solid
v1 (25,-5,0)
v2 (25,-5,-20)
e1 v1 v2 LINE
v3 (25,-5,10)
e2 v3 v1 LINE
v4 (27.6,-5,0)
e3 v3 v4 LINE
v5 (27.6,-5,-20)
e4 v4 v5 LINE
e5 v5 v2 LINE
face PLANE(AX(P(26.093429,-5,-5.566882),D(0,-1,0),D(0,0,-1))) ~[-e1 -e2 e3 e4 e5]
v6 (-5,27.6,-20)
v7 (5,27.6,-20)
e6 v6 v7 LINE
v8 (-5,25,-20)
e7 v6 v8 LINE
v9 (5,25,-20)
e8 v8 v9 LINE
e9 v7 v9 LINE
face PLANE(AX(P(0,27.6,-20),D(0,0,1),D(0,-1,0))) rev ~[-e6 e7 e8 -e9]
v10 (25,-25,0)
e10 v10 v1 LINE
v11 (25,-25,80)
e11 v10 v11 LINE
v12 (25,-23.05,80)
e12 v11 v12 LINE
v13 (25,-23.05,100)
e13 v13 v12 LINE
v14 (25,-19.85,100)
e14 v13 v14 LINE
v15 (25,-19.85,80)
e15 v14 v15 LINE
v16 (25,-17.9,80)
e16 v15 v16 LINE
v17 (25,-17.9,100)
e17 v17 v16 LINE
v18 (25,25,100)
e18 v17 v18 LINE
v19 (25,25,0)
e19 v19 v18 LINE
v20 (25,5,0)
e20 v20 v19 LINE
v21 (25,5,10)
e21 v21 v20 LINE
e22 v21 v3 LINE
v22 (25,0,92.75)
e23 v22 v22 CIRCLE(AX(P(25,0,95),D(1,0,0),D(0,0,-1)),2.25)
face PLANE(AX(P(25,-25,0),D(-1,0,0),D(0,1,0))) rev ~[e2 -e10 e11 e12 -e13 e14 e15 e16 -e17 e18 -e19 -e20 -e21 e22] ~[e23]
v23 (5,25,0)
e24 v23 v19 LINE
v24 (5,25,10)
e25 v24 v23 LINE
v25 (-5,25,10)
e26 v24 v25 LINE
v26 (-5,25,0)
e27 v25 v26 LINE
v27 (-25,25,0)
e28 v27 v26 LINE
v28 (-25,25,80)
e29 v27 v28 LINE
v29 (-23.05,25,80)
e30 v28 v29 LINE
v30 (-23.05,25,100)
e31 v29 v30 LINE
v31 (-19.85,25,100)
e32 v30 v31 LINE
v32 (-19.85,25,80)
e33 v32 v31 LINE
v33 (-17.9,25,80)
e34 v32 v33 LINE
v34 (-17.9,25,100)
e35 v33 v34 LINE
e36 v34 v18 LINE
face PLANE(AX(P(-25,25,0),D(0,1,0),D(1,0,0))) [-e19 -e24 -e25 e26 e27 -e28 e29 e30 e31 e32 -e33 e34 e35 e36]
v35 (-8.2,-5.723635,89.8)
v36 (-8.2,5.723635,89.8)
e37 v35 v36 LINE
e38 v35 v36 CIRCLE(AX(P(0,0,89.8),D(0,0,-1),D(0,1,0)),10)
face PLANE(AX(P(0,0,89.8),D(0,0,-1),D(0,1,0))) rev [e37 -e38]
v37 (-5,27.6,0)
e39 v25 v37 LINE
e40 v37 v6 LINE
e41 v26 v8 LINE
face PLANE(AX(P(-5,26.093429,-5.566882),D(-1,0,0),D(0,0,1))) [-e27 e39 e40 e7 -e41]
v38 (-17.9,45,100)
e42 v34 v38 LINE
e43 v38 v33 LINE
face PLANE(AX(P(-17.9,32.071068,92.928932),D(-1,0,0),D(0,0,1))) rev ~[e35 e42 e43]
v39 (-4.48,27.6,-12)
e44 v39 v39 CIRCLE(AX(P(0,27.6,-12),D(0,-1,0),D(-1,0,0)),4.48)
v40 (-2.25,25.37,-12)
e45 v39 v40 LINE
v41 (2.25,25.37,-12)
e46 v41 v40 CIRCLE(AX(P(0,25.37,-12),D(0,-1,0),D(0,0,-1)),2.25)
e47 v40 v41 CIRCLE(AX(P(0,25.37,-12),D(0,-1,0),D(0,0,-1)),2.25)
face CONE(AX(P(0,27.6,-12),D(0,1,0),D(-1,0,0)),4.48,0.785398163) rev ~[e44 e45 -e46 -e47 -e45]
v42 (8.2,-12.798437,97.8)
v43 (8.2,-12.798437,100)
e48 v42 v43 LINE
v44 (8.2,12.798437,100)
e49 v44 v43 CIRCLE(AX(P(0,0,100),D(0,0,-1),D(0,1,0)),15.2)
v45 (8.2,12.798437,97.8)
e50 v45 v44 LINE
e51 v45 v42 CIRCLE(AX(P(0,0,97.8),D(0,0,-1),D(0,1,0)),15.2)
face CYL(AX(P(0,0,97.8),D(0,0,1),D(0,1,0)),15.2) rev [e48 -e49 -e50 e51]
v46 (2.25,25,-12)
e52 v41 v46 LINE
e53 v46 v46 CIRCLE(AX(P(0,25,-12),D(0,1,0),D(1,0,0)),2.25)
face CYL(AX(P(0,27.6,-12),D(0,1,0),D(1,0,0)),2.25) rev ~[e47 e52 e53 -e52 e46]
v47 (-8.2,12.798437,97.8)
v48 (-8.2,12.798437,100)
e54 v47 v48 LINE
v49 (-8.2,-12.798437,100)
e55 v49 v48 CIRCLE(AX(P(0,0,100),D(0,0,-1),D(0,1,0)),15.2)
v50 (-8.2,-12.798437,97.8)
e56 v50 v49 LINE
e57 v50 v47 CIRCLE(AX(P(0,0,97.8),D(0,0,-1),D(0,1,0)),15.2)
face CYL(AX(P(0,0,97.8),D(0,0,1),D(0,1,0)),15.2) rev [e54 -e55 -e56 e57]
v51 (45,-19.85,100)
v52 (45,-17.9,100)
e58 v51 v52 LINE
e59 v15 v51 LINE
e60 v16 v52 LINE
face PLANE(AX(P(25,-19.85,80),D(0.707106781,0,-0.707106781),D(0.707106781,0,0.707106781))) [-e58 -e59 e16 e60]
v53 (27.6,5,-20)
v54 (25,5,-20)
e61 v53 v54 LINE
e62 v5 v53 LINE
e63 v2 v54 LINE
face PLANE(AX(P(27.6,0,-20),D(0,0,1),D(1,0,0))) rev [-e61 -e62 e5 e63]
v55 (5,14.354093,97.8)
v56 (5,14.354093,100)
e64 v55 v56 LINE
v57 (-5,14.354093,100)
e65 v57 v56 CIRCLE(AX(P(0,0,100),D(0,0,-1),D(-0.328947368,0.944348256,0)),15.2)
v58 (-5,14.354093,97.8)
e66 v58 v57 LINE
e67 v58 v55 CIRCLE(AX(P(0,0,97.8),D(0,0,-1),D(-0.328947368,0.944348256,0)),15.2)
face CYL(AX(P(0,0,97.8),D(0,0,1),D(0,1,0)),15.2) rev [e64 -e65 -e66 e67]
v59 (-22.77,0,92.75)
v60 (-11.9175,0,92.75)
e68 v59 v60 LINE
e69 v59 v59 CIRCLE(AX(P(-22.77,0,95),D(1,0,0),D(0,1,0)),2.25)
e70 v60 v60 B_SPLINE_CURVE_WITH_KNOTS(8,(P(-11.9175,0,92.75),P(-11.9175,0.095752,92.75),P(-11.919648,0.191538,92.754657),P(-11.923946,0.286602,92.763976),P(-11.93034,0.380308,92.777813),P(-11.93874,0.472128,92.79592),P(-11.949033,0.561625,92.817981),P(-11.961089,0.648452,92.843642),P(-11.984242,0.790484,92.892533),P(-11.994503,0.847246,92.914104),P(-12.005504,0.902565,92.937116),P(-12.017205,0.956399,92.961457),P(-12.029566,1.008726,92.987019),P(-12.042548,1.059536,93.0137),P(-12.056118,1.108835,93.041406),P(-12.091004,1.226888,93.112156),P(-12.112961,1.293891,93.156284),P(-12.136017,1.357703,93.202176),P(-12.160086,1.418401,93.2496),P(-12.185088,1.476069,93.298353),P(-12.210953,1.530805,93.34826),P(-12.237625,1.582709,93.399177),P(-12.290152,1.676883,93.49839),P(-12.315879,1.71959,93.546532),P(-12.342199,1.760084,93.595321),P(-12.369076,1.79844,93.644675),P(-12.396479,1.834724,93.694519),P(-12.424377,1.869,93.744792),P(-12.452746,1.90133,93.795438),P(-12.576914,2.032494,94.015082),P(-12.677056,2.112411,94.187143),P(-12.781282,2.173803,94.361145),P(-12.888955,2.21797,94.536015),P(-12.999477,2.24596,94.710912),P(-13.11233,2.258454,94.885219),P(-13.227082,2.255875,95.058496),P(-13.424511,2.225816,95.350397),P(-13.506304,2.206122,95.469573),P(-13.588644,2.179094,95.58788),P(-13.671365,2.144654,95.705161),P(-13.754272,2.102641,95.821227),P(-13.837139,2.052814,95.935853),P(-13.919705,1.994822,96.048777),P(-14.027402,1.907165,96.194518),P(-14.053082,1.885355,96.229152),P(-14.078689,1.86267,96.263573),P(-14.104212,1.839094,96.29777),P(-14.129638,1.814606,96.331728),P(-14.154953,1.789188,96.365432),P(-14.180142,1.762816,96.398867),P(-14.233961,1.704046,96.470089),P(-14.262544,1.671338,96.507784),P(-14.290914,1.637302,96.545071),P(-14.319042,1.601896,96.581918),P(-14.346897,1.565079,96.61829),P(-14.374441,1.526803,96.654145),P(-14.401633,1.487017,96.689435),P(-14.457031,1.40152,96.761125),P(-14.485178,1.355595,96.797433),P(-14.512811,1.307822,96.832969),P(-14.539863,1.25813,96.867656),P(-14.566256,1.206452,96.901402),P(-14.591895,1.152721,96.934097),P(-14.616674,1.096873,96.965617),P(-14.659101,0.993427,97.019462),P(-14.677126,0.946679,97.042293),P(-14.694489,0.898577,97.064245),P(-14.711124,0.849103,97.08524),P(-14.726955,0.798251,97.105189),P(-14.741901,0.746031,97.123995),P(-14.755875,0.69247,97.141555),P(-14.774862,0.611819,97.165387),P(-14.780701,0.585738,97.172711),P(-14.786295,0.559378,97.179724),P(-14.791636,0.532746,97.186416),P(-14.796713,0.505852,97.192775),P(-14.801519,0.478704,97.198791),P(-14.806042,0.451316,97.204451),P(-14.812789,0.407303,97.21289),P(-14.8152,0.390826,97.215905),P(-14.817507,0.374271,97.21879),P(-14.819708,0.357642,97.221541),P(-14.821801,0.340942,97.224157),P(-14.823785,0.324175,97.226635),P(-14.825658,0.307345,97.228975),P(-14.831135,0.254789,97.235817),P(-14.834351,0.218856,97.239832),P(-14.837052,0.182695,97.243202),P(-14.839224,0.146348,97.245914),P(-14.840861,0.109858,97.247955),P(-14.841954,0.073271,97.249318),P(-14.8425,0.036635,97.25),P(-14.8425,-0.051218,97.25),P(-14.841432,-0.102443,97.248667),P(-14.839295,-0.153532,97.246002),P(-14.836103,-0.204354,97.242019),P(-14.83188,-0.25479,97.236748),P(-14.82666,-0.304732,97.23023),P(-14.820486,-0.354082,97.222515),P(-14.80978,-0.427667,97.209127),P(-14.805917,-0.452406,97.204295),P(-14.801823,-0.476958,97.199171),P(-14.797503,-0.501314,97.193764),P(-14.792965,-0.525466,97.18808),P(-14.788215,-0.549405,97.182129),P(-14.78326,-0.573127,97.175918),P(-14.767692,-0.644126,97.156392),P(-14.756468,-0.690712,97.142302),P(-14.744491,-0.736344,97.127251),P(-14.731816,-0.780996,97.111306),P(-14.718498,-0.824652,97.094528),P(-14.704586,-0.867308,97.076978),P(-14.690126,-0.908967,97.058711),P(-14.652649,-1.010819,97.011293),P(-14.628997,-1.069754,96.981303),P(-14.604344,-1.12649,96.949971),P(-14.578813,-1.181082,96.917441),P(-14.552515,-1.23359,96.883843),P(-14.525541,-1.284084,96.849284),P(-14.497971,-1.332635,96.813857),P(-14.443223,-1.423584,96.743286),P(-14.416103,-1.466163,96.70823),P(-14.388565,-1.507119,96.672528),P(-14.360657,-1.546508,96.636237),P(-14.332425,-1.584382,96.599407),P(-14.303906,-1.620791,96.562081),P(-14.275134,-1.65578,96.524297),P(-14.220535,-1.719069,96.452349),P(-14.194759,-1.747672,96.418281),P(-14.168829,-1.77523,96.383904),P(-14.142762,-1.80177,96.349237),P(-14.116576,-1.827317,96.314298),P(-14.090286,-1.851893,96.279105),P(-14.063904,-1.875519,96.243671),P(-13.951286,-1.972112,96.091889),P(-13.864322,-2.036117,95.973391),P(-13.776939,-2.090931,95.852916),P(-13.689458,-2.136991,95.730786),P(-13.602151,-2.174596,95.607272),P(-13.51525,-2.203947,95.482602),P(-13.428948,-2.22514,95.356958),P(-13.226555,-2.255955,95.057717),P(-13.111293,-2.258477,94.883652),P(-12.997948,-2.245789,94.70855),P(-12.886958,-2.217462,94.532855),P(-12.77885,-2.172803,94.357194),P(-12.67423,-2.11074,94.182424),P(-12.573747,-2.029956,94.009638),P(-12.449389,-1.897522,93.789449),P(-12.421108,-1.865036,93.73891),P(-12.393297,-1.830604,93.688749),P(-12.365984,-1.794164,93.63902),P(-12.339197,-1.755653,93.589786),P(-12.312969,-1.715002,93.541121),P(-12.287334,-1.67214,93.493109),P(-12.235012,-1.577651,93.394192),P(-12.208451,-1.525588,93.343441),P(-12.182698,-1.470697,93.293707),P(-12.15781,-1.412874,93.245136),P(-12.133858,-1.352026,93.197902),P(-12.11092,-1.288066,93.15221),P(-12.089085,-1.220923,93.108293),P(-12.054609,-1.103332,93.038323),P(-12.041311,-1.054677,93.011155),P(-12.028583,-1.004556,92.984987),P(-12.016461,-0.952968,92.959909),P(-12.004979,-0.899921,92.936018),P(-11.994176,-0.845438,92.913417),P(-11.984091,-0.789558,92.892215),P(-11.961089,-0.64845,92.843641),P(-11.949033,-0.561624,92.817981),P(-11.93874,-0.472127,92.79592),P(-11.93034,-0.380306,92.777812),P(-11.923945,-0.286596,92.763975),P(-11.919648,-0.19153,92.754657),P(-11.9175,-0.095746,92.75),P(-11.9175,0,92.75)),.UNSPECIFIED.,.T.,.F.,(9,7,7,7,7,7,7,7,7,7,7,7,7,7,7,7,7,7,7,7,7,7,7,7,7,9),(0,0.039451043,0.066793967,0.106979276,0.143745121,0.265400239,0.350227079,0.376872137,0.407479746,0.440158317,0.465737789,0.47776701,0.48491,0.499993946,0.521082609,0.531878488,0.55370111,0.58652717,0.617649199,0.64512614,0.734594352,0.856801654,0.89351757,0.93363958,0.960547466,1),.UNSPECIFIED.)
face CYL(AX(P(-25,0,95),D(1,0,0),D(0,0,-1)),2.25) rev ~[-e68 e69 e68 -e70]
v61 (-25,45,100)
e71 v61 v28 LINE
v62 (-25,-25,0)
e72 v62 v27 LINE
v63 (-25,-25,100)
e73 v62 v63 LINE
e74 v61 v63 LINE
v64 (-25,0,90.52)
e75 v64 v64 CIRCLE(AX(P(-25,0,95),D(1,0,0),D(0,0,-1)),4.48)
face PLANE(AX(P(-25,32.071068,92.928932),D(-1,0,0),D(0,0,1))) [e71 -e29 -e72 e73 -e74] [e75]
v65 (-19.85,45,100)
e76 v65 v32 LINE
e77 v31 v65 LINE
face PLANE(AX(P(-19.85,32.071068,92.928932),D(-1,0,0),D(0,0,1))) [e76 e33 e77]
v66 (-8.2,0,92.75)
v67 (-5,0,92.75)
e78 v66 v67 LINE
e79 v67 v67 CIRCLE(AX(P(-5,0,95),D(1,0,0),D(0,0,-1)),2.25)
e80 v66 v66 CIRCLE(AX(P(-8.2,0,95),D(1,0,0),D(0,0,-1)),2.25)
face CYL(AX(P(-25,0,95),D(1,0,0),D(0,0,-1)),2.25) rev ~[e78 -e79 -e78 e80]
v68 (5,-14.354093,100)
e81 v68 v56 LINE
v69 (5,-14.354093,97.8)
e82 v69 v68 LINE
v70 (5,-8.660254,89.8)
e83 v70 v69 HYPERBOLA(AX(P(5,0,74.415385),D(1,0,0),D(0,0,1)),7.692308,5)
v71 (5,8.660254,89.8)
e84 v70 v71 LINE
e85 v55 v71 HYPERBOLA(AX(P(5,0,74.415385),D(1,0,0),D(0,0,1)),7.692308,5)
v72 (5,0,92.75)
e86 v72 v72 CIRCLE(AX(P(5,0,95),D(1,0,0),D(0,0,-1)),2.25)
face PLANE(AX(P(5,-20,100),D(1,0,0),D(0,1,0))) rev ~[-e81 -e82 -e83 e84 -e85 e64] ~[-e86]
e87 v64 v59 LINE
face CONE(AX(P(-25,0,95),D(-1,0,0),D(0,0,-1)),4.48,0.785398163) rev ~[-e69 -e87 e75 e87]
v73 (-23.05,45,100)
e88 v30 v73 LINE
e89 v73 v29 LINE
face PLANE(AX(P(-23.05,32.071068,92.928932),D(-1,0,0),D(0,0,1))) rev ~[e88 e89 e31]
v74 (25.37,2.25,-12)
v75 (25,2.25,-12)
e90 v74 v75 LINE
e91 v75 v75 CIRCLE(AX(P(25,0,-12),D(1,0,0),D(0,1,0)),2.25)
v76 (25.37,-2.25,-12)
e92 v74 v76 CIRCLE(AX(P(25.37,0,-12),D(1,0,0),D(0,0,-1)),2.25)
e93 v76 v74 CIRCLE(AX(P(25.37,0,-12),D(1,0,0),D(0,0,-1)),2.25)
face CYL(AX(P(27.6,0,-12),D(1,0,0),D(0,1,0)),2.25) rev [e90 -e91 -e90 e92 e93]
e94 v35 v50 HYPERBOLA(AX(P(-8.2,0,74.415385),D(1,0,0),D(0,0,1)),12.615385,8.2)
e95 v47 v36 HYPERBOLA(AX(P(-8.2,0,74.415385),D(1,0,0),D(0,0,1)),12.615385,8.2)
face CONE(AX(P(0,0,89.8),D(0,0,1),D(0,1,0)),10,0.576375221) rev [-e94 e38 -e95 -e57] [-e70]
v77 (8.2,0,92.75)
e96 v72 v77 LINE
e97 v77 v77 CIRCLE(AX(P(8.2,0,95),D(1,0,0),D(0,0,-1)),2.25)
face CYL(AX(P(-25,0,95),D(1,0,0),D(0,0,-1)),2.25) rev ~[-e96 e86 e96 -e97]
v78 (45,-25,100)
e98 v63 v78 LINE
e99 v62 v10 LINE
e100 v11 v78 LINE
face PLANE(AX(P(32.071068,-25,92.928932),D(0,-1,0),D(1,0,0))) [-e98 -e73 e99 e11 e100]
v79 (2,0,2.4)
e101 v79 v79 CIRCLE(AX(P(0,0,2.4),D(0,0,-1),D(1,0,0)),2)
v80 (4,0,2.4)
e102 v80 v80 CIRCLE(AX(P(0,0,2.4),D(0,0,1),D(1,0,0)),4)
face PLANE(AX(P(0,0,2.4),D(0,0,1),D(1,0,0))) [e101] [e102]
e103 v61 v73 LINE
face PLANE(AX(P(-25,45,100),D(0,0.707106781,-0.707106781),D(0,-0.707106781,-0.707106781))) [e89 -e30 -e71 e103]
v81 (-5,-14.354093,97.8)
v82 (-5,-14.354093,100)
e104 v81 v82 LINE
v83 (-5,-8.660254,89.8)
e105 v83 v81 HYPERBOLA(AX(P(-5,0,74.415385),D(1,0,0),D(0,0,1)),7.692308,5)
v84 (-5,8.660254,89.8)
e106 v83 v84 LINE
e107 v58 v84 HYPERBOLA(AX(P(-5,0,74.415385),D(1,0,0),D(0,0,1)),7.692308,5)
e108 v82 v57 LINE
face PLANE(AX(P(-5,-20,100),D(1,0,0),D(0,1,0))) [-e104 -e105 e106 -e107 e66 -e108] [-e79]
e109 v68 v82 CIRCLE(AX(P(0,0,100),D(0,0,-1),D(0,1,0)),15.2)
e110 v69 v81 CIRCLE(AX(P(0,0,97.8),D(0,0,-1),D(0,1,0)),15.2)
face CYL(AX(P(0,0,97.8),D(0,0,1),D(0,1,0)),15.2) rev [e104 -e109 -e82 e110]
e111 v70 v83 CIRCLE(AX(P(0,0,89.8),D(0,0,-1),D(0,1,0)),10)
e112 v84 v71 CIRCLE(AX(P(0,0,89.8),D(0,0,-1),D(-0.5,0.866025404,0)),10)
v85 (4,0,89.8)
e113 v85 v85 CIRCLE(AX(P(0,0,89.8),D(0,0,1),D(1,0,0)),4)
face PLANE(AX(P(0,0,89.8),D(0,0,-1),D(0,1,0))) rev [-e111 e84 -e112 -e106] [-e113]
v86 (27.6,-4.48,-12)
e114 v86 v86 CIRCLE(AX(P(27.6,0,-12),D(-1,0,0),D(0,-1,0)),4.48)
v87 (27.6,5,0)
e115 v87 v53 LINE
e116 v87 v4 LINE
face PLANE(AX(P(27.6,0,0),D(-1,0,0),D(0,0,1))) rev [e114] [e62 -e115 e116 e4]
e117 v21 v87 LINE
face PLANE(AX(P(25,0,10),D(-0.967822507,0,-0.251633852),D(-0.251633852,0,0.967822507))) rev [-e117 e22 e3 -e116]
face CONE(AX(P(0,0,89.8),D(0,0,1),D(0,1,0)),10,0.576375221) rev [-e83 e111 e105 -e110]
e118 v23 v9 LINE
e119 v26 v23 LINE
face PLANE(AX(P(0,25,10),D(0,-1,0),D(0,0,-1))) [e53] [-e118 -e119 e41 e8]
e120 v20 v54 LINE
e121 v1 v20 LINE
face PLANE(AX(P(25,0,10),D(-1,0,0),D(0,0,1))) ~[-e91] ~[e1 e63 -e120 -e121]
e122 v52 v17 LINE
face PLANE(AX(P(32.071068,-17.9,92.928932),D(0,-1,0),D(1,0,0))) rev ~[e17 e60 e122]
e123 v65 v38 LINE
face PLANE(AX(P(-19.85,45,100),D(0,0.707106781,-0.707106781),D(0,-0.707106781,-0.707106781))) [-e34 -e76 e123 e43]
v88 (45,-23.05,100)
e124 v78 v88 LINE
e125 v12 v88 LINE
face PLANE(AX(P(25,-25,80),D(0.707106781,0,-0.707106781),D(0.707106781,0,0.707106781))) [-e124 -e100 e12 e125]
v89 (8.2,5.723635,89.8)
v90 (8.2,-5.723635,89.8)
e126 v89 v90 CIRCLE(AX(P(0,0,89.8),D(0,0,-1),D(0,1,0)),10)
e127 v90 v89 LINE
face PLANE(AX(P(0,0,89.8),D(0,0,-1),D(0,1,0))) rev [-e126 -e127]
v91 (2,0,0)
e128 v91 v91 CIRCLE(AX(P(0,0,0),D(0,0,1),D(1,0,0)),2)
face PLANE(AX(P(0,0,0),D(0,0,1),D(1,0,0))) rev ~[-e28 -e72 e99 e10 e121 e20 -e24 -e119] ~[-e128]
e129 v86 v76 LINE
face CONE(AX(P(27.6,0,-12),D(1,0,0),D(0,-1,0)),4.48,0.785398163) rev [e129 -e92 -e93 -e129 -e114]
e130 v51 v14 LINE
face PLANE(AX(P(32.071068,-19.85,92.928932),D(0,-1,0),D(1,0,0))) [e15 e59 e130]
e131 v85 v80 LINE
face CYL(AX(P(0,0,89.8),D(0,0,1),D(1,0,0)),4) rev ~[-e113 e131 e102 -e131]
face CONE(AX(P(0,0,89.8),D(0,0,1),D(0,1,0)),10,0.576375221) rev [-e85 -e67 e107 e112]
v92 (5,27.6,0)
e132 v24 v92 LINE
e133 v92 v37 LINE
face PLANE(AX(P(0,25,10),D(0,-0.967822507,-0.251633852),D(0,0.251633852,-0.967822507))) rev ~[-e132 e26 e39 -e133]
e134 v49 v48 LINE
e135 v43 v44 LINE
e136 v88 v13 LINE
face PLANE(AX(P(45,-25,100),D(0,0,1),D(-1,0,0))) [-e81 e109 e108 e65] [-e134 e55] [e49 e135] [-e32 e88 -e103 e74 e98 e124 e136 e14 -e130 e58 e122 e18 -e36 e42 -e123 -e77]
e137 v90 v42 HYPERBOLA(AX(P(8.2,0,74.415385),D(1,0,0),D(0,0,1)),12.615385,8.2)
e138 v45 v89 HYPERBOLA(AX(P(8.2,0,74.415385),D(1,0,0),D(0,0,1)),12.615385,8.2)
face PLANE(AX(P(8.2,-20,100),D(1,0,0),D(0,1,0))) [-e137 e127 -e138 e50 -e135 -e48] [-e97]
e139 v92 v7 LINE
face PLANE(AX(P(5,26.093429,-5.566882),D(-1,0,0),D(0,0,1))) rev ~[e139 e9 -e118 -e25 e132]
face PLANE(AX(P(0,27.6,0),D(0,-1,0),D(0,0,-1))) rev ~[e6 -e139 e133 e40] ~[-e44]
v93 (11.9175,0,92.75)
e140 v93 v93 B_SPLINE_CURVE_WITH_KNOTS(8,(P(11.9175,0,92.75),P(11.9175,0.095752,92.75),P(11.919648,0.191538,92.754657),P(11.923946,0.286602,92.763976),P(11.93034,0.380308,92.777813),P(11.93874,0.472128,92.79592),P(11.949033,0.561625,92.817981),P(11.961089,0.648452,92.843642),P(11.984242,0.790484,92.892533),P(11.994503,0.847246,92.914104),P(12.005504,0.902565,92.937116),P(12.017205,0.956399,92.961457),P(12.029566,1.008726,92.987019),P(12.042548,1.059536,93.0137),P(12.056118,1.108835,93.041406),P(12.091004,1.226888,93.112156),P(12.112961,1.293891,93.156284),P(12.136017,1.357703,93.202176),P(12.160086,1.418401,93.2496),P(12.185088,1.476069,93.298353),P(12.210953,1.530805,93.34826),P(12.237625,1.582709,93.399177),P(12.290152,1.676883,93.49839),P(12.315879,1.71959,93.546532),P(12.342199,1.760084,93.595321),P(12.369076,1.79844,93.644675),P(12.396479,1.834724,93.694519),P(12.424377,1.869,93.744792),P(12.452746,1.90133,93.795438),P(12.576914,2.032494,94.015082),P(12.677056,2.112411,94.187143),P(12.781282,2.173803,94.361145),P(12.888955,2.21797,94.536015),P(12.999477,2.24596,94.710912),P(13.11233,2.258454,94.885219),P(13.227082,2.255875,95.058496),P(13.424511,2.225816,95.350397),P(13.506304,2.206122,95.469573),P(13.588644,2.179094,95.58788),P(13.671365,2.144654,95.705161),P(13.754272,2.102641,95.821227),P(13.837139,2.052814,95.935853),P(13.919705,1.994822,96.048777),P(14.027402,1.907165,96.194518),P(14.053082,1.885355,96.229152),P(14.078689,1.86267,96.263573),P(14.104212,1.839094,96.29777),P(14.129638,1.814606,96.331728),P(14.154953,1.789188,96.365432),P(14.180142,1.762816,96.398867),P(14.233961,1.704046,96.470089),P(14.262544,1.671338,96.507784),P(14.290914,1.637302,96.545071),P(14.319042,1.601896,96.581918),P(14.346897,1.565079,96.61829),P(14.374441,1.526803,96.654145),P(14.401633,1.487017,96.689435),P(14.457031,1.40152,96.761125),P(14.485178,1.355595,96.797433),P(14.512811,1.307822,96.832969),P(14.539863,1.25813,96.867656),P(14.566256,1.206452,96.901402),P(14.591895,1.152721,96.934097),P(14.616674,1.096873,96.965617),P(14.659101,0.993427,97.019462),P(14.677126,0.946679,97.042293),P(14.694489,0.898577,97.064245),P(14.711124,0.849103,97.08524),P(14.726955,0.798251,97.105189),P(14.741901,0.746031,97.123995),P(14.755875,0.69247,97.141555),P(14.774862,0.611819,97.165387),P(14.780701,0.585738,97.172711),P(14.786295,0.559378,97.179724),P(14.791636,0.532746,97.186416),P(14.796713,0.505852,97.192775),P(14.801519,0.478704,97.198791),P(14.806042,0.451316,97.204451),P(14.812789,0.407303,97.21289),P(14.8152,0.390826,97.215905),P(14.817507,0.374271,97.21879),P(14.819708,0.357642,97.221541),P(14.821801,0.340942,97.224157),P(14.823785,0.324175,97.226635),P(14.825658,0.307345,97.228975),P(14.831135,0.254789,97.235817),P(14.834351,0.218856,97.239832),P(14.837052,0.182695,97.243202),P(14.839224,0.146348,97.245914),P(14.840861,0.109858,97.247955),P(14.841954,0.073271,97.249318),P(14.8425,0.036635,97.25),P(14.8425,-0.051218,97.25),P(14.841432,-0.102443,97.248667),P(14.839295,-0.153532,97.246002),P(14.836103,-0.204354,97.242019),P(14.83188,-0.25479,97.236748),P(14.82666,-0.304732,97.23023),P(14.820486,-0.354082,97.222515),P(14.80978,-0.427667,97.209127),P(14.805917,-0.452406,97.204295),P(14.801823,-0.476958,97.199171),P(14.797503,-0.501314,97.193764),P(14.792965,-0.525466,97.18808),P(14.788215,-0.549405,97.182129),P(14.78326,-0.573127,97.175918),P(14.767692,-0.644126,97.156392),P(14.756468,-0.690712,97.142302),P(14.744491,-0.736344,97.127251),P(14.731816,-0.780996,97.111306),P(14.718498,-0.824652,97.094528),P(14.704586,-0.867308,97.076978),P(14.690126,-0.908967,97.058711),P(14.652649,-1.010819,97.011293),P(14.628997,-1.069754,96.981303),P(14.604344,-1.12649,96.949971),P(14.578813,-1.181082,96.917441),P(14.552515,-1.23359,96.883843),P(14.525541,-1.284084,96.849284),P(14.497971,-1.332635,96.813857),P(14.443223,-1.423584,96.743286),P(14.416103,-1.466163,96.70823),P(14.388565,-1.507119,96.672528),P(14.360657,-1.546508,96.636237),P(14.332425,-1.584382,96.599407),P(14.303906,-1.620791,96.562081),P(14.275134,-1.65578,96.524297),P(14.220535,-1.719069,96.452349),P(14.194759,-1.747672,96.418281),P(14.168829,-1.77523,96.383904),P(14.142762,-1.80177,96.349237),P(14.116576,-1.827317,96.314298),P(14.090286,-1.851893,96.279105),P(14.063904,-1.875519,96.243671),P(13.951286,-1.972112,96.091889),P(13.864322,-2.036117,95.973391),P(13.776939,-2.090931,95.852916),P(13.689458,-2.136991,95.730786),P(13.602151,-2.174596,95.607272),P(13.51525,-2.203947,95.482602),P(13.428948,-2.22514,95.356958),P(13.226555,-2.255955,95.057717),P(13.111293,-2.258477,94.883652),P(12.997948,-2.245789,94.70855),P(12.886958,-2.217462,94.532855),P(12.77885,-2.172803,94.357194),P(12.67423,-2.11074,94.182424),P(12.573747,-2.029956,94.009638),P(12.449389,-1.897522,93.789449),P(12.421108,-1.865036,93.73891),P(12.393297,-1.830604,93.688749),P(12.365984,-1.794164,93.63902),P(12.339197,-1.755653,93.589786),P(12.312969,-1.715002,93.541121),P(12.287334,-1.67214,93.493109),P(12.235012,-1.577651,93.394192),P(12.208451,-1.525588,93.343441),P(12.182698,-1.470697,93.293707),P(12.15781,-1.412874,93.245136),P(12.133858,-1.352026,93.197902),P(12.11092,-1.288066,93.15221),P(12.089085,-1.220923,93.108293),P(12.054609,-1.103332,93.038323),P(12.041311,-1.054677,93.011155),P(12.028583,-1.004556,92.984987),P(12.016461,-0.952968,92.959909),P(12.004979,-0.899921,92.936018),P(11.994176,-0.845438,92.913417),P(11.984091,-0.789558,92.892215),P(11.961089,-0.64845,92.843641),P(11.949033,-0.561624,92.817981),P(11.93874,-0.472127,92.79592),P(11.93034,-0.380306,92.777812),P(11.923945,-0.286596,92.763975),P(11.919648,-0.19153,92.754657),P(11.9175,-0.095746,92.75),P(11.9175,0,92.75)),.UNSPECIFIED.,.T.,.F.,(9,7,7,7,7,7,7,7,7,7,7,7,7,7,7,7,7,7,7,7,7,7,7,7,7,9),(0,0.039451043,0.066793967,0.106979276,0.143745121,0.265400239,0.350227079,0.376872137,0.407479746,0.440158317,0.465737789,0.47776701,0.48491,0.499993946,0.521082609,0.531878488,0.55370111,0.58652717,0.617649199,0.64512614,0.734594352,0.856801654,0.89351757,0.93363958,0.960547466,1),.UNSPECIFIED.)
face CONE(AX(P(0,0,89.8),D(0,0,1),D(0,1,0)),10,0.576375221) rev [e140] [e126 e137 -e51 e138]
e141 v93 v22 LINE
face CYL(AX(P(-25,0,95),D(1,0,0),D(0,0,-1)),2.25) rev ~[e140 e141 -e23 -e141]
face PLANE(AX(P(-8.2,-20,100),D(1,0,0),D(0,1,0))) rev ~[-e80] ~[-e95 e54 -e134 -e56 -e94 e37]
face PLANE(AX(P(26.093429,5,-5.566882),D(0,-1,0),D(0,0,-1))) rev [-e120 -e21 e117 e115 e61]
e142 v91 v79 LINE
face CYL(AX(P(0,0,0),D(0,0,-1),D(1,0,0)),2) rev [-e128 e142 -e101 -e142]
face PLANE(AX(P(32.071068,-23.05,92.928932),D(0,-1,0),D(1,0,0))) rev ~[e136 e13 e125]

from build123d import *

# Parameters (mm, degrees)
CROQUIS1_W                                           = 50
CROQUIS1_H                                           = 50
CROQUIS1_R                                           = 2
SALIENTE_EXTRUIR2_DEPTH                              = 100
CROQUIS4_W                                           = 3.2
CROQUIS4_H                                           = 40
SALIENTE_EXTRUIR5_DEPTH                              = 10.2
CROQUIS8_R                                           = 4
CORTAR_EXTRUIR3_DEPTH                                = 87.4
CORTAR_EXTRUIR2_START                                = -50
CROQUIS7_R                                           = 2
CORTAR_EXTRUIR2_DEPTH                                = 50
REFRENTADO_PARA_TORNILLO_TAP_N_CON_CABEZ_D           = 4.5
REFRENTADO_PARA_TORNILLO_TAP_N_CON_CABEZ_CSINK_D     = 8.96
REFRENTADO_PARA_TORNILLO_TAP_N_CON_CABEZ_CSINK_ANGLE = 90
SALIENTE_EXTRUIR6_DEPTH                              = 1.95
SALIENTE_EXTRUIR7_START                              = -5.15
SALIENTE_EXTRUIR7_DEPTH                              = 1.95
SALIENTE_EXTRUIR9_DEPTH                              = 1.95
SALIENTE_EXTRUIR10_START                             = -5.15
SALIENTE_EXTRUIR10_DEPTH                             = 1.95
SALIENTE_EXTRUIR11_START                             = -25
SALIENTE_EXTRUIR11_DEPTH                             = 5
CROQUIS17_R                                          = 2.25
CORTAR_EXTRUIR4_DEPTH                                = 2.6
REFRENTADO_PARA_TORNILLO_TAP_N_CON_C_2_D             = 4.5
REFRENTADO_PARA_TORNILLO_TAP_N_CON_C_2_CSINK_D       = 8.96
REFRENTADO_PARA_TORNILLO_TAP_N_CON_C_2_CSINK_ANGLE   = 90


with BuildPart() as part:
    # Croquis1 → Saliente-Extruir2 (new body)
    with BuildSketch(Plane.XY):
        Rectangle(CROQUIS1_W, CROQUIS1_H)
        Circle(CROQUIS1_R, mode=Mode.SUBTRACT)
    extrude(amount=SALIENTE_EXTRUIR2_DEPTH)

    # Croquis2 → Cortar-Revolución1 (revolve, cut)
    with BuildSketch(Plane(origin=(0, 0, 0), x_dir=(0, 0, -1), z_dir=(1, 0, 0))):
        Polygon((-100, 15.2), (-100, 0), (-89.8, 0), (-89.8, 10), (-97.8, 15.2), align=None)
    revolve(axis=Axis((0, 0, 100), (0, 0, -1)), mode=Mode.SUBTRACT)

    # Croquis4 → Saliente-Extruir5 (add)
    with BuildSketch(Plane.XY.offset(100)):
        with Locations((-6.6, 0)):
            Rectangle(CROQUIS4_W, CROQUIS4_H)
        with Locations((6.6, 0)):
            Rectangle(CROQUIS4_W, CROQUIS4_H)
    extrude(amount=-SALIENTE_EXTRUIR5_DEPTH)

    # Croquis8 → Cortar-Extruir3 (cut)
    with BuildSketch(Plane.XY.offset(89.8)):
        Circle(CROQUIS8_R)
    extrude(amount=-CORTAR_EXTRUIR3_DEPTH, mode=Mode.SUBTRACT)

    # Croquis7 → Cortar-Extruir2 (cut)
    with BuildSketch(Plane.ZY.offset(25).offset(CORTAR_EXTRUIR2_START)):
        with Locations((95, 0)):
            Circle(CROQUIS7_R)
    extrude(amount=CORTAR_EXTRUIR2_DEPTH, mode=Mode.SUBTRACT)

    # Refrentado para tornillo tap_n con cabez (through all)
    with Locations(Plane.ZY.offset(25)):
        with Locations((95, 0)):
            CounterSinkHole(REFRENTADO_PARA_TORNILLO_TAP_N_CON_CABEZ_D / 2, REFRENTADO_PARA_TORNILLO_TAP_N_CON_CABEZ_CSINK_D / 2, counter_sink_angle=REFRENTADO_PARA_TORNILLO_TAP_N_CON_CABEZ_CSINK_ANGLE)

    # Croquis12 → Saliente-Extruir6 (add)
    with BuildSketch(Plane.ZY.offset(25)):
        Polygon((100, 45), (80, 25), (100, 25), align=None)
    extrude(amount=-SALIENTE_EXTRUIR6_DEPTH)

    # Croquis12<2> → Saliente-Extruir7 (add)
    with BuildSketch(Plane.ZY.offset(25).offset(SALIENTE_EXTRUIR7_START)):
        Polygon((100, 45), (80, 25), (100, 25), align=None)
    extrude(amount=-SALIENTE_EXTRUIR7_DEPTH)

    # Croquis15 → Saliente-Extruir9 (add)
    with BuildSketch(Plane.XZ.offset(25)):
        Polygon((25, 100), (25, 80), (45, 100), align=None)
    extrude(amount=-SALIENTE_EXTRUIR9_DEPTH)

    # Croquis15<2> → Saliente-Extruir10 (add)
    with BuildSketch(Plane.XZ.offset(25).offset(SALIENTE_EXTRUIR10_START)):
        Polygon((25, 100), (25, 80), (45, 100), align=None)
    extrude(amount=-SALIENTE_EXTRUIR10_DEPTH)

    # Croquis16 → Saliente-Extruir11 (add, symmetric)
    with BuildSketch(Plane(origin=(25, 0, 0), x_dir=(0, 0, -1), z_dir=(1, 0, 0)).offset(SALIENTE_EXTRUIR11_START)):
        Polygon((0, 25), (-10, 25), (0, 27.6), (20, 27.6), (20, 25), align=None)
    saliente_extruir11 = extrude(amount=SALIENTE_EXTRUIR11_DEPTH, both=True)

    # Croquis17 → Cortar-Extruir4 (cut)
    with BuildSketch(Plane(origin=(0, 27.6, 0), x_dir=(1, 0, 0), z_dir=(0, 1, 0))):
        with Locations((0, 12)):
            Circle(CROQUIS17_R)
    cortar_extruir4 = extrude(amount=-CORTAR_EXTRUIR4_DEPTH, mode=Mode.SUBTRACT)

    # Refrentado para tornillo tap_n con c 2 (through all)
    with Locations(Plane(origin=(0, 27.6, 0), x_dir=(1, 0, 0), z_dir=(0, 1, 0))):
        with Locations((0, 12)):
            refrentado_para_tornillo_tap_n_con_c_2 = CounterSinkHole(REFRENTADO_PARA_TORNILLO_TAP_N_CON_C_2_D / 2, REFRENTADO_PARA_TORNILLO_TAP_N_CON_C_2_CSINK_D / 2, counter_sink_angle=REFRENTADO_PARA_TORNILLO_TAP_N_CON_C_2_CSINK_ANGLE)

    # Simetría1: Saliente-Extruir11, Cortar-Extruir4, Refrentado para tornillo tap_n con c 2 across plane
    add(saliente_extruir11.mirror(Plane(origin=(0, 0, 0), x_dir=(0, 0, 1), z_dir=(0.707106781, -0.707106781, 0))))
    add(cortar_extruir4.mirror(Plane(origin=(0, 0, 0), x_dir=(0, 0, 1), z_dir=(0.707106781, -0.707106781, 0))), mode=Mode.SUBTRACT)
    add(refrentado_para_tornillo_tap_n_con_c_2.mirror(Plane(origin=(0, 0, 0), x_dir=(0, 0, 1), z_dir=(0.707106781, -0.707106781, 0))), mode=Mode.SUBTRACT)


solid = part.part
